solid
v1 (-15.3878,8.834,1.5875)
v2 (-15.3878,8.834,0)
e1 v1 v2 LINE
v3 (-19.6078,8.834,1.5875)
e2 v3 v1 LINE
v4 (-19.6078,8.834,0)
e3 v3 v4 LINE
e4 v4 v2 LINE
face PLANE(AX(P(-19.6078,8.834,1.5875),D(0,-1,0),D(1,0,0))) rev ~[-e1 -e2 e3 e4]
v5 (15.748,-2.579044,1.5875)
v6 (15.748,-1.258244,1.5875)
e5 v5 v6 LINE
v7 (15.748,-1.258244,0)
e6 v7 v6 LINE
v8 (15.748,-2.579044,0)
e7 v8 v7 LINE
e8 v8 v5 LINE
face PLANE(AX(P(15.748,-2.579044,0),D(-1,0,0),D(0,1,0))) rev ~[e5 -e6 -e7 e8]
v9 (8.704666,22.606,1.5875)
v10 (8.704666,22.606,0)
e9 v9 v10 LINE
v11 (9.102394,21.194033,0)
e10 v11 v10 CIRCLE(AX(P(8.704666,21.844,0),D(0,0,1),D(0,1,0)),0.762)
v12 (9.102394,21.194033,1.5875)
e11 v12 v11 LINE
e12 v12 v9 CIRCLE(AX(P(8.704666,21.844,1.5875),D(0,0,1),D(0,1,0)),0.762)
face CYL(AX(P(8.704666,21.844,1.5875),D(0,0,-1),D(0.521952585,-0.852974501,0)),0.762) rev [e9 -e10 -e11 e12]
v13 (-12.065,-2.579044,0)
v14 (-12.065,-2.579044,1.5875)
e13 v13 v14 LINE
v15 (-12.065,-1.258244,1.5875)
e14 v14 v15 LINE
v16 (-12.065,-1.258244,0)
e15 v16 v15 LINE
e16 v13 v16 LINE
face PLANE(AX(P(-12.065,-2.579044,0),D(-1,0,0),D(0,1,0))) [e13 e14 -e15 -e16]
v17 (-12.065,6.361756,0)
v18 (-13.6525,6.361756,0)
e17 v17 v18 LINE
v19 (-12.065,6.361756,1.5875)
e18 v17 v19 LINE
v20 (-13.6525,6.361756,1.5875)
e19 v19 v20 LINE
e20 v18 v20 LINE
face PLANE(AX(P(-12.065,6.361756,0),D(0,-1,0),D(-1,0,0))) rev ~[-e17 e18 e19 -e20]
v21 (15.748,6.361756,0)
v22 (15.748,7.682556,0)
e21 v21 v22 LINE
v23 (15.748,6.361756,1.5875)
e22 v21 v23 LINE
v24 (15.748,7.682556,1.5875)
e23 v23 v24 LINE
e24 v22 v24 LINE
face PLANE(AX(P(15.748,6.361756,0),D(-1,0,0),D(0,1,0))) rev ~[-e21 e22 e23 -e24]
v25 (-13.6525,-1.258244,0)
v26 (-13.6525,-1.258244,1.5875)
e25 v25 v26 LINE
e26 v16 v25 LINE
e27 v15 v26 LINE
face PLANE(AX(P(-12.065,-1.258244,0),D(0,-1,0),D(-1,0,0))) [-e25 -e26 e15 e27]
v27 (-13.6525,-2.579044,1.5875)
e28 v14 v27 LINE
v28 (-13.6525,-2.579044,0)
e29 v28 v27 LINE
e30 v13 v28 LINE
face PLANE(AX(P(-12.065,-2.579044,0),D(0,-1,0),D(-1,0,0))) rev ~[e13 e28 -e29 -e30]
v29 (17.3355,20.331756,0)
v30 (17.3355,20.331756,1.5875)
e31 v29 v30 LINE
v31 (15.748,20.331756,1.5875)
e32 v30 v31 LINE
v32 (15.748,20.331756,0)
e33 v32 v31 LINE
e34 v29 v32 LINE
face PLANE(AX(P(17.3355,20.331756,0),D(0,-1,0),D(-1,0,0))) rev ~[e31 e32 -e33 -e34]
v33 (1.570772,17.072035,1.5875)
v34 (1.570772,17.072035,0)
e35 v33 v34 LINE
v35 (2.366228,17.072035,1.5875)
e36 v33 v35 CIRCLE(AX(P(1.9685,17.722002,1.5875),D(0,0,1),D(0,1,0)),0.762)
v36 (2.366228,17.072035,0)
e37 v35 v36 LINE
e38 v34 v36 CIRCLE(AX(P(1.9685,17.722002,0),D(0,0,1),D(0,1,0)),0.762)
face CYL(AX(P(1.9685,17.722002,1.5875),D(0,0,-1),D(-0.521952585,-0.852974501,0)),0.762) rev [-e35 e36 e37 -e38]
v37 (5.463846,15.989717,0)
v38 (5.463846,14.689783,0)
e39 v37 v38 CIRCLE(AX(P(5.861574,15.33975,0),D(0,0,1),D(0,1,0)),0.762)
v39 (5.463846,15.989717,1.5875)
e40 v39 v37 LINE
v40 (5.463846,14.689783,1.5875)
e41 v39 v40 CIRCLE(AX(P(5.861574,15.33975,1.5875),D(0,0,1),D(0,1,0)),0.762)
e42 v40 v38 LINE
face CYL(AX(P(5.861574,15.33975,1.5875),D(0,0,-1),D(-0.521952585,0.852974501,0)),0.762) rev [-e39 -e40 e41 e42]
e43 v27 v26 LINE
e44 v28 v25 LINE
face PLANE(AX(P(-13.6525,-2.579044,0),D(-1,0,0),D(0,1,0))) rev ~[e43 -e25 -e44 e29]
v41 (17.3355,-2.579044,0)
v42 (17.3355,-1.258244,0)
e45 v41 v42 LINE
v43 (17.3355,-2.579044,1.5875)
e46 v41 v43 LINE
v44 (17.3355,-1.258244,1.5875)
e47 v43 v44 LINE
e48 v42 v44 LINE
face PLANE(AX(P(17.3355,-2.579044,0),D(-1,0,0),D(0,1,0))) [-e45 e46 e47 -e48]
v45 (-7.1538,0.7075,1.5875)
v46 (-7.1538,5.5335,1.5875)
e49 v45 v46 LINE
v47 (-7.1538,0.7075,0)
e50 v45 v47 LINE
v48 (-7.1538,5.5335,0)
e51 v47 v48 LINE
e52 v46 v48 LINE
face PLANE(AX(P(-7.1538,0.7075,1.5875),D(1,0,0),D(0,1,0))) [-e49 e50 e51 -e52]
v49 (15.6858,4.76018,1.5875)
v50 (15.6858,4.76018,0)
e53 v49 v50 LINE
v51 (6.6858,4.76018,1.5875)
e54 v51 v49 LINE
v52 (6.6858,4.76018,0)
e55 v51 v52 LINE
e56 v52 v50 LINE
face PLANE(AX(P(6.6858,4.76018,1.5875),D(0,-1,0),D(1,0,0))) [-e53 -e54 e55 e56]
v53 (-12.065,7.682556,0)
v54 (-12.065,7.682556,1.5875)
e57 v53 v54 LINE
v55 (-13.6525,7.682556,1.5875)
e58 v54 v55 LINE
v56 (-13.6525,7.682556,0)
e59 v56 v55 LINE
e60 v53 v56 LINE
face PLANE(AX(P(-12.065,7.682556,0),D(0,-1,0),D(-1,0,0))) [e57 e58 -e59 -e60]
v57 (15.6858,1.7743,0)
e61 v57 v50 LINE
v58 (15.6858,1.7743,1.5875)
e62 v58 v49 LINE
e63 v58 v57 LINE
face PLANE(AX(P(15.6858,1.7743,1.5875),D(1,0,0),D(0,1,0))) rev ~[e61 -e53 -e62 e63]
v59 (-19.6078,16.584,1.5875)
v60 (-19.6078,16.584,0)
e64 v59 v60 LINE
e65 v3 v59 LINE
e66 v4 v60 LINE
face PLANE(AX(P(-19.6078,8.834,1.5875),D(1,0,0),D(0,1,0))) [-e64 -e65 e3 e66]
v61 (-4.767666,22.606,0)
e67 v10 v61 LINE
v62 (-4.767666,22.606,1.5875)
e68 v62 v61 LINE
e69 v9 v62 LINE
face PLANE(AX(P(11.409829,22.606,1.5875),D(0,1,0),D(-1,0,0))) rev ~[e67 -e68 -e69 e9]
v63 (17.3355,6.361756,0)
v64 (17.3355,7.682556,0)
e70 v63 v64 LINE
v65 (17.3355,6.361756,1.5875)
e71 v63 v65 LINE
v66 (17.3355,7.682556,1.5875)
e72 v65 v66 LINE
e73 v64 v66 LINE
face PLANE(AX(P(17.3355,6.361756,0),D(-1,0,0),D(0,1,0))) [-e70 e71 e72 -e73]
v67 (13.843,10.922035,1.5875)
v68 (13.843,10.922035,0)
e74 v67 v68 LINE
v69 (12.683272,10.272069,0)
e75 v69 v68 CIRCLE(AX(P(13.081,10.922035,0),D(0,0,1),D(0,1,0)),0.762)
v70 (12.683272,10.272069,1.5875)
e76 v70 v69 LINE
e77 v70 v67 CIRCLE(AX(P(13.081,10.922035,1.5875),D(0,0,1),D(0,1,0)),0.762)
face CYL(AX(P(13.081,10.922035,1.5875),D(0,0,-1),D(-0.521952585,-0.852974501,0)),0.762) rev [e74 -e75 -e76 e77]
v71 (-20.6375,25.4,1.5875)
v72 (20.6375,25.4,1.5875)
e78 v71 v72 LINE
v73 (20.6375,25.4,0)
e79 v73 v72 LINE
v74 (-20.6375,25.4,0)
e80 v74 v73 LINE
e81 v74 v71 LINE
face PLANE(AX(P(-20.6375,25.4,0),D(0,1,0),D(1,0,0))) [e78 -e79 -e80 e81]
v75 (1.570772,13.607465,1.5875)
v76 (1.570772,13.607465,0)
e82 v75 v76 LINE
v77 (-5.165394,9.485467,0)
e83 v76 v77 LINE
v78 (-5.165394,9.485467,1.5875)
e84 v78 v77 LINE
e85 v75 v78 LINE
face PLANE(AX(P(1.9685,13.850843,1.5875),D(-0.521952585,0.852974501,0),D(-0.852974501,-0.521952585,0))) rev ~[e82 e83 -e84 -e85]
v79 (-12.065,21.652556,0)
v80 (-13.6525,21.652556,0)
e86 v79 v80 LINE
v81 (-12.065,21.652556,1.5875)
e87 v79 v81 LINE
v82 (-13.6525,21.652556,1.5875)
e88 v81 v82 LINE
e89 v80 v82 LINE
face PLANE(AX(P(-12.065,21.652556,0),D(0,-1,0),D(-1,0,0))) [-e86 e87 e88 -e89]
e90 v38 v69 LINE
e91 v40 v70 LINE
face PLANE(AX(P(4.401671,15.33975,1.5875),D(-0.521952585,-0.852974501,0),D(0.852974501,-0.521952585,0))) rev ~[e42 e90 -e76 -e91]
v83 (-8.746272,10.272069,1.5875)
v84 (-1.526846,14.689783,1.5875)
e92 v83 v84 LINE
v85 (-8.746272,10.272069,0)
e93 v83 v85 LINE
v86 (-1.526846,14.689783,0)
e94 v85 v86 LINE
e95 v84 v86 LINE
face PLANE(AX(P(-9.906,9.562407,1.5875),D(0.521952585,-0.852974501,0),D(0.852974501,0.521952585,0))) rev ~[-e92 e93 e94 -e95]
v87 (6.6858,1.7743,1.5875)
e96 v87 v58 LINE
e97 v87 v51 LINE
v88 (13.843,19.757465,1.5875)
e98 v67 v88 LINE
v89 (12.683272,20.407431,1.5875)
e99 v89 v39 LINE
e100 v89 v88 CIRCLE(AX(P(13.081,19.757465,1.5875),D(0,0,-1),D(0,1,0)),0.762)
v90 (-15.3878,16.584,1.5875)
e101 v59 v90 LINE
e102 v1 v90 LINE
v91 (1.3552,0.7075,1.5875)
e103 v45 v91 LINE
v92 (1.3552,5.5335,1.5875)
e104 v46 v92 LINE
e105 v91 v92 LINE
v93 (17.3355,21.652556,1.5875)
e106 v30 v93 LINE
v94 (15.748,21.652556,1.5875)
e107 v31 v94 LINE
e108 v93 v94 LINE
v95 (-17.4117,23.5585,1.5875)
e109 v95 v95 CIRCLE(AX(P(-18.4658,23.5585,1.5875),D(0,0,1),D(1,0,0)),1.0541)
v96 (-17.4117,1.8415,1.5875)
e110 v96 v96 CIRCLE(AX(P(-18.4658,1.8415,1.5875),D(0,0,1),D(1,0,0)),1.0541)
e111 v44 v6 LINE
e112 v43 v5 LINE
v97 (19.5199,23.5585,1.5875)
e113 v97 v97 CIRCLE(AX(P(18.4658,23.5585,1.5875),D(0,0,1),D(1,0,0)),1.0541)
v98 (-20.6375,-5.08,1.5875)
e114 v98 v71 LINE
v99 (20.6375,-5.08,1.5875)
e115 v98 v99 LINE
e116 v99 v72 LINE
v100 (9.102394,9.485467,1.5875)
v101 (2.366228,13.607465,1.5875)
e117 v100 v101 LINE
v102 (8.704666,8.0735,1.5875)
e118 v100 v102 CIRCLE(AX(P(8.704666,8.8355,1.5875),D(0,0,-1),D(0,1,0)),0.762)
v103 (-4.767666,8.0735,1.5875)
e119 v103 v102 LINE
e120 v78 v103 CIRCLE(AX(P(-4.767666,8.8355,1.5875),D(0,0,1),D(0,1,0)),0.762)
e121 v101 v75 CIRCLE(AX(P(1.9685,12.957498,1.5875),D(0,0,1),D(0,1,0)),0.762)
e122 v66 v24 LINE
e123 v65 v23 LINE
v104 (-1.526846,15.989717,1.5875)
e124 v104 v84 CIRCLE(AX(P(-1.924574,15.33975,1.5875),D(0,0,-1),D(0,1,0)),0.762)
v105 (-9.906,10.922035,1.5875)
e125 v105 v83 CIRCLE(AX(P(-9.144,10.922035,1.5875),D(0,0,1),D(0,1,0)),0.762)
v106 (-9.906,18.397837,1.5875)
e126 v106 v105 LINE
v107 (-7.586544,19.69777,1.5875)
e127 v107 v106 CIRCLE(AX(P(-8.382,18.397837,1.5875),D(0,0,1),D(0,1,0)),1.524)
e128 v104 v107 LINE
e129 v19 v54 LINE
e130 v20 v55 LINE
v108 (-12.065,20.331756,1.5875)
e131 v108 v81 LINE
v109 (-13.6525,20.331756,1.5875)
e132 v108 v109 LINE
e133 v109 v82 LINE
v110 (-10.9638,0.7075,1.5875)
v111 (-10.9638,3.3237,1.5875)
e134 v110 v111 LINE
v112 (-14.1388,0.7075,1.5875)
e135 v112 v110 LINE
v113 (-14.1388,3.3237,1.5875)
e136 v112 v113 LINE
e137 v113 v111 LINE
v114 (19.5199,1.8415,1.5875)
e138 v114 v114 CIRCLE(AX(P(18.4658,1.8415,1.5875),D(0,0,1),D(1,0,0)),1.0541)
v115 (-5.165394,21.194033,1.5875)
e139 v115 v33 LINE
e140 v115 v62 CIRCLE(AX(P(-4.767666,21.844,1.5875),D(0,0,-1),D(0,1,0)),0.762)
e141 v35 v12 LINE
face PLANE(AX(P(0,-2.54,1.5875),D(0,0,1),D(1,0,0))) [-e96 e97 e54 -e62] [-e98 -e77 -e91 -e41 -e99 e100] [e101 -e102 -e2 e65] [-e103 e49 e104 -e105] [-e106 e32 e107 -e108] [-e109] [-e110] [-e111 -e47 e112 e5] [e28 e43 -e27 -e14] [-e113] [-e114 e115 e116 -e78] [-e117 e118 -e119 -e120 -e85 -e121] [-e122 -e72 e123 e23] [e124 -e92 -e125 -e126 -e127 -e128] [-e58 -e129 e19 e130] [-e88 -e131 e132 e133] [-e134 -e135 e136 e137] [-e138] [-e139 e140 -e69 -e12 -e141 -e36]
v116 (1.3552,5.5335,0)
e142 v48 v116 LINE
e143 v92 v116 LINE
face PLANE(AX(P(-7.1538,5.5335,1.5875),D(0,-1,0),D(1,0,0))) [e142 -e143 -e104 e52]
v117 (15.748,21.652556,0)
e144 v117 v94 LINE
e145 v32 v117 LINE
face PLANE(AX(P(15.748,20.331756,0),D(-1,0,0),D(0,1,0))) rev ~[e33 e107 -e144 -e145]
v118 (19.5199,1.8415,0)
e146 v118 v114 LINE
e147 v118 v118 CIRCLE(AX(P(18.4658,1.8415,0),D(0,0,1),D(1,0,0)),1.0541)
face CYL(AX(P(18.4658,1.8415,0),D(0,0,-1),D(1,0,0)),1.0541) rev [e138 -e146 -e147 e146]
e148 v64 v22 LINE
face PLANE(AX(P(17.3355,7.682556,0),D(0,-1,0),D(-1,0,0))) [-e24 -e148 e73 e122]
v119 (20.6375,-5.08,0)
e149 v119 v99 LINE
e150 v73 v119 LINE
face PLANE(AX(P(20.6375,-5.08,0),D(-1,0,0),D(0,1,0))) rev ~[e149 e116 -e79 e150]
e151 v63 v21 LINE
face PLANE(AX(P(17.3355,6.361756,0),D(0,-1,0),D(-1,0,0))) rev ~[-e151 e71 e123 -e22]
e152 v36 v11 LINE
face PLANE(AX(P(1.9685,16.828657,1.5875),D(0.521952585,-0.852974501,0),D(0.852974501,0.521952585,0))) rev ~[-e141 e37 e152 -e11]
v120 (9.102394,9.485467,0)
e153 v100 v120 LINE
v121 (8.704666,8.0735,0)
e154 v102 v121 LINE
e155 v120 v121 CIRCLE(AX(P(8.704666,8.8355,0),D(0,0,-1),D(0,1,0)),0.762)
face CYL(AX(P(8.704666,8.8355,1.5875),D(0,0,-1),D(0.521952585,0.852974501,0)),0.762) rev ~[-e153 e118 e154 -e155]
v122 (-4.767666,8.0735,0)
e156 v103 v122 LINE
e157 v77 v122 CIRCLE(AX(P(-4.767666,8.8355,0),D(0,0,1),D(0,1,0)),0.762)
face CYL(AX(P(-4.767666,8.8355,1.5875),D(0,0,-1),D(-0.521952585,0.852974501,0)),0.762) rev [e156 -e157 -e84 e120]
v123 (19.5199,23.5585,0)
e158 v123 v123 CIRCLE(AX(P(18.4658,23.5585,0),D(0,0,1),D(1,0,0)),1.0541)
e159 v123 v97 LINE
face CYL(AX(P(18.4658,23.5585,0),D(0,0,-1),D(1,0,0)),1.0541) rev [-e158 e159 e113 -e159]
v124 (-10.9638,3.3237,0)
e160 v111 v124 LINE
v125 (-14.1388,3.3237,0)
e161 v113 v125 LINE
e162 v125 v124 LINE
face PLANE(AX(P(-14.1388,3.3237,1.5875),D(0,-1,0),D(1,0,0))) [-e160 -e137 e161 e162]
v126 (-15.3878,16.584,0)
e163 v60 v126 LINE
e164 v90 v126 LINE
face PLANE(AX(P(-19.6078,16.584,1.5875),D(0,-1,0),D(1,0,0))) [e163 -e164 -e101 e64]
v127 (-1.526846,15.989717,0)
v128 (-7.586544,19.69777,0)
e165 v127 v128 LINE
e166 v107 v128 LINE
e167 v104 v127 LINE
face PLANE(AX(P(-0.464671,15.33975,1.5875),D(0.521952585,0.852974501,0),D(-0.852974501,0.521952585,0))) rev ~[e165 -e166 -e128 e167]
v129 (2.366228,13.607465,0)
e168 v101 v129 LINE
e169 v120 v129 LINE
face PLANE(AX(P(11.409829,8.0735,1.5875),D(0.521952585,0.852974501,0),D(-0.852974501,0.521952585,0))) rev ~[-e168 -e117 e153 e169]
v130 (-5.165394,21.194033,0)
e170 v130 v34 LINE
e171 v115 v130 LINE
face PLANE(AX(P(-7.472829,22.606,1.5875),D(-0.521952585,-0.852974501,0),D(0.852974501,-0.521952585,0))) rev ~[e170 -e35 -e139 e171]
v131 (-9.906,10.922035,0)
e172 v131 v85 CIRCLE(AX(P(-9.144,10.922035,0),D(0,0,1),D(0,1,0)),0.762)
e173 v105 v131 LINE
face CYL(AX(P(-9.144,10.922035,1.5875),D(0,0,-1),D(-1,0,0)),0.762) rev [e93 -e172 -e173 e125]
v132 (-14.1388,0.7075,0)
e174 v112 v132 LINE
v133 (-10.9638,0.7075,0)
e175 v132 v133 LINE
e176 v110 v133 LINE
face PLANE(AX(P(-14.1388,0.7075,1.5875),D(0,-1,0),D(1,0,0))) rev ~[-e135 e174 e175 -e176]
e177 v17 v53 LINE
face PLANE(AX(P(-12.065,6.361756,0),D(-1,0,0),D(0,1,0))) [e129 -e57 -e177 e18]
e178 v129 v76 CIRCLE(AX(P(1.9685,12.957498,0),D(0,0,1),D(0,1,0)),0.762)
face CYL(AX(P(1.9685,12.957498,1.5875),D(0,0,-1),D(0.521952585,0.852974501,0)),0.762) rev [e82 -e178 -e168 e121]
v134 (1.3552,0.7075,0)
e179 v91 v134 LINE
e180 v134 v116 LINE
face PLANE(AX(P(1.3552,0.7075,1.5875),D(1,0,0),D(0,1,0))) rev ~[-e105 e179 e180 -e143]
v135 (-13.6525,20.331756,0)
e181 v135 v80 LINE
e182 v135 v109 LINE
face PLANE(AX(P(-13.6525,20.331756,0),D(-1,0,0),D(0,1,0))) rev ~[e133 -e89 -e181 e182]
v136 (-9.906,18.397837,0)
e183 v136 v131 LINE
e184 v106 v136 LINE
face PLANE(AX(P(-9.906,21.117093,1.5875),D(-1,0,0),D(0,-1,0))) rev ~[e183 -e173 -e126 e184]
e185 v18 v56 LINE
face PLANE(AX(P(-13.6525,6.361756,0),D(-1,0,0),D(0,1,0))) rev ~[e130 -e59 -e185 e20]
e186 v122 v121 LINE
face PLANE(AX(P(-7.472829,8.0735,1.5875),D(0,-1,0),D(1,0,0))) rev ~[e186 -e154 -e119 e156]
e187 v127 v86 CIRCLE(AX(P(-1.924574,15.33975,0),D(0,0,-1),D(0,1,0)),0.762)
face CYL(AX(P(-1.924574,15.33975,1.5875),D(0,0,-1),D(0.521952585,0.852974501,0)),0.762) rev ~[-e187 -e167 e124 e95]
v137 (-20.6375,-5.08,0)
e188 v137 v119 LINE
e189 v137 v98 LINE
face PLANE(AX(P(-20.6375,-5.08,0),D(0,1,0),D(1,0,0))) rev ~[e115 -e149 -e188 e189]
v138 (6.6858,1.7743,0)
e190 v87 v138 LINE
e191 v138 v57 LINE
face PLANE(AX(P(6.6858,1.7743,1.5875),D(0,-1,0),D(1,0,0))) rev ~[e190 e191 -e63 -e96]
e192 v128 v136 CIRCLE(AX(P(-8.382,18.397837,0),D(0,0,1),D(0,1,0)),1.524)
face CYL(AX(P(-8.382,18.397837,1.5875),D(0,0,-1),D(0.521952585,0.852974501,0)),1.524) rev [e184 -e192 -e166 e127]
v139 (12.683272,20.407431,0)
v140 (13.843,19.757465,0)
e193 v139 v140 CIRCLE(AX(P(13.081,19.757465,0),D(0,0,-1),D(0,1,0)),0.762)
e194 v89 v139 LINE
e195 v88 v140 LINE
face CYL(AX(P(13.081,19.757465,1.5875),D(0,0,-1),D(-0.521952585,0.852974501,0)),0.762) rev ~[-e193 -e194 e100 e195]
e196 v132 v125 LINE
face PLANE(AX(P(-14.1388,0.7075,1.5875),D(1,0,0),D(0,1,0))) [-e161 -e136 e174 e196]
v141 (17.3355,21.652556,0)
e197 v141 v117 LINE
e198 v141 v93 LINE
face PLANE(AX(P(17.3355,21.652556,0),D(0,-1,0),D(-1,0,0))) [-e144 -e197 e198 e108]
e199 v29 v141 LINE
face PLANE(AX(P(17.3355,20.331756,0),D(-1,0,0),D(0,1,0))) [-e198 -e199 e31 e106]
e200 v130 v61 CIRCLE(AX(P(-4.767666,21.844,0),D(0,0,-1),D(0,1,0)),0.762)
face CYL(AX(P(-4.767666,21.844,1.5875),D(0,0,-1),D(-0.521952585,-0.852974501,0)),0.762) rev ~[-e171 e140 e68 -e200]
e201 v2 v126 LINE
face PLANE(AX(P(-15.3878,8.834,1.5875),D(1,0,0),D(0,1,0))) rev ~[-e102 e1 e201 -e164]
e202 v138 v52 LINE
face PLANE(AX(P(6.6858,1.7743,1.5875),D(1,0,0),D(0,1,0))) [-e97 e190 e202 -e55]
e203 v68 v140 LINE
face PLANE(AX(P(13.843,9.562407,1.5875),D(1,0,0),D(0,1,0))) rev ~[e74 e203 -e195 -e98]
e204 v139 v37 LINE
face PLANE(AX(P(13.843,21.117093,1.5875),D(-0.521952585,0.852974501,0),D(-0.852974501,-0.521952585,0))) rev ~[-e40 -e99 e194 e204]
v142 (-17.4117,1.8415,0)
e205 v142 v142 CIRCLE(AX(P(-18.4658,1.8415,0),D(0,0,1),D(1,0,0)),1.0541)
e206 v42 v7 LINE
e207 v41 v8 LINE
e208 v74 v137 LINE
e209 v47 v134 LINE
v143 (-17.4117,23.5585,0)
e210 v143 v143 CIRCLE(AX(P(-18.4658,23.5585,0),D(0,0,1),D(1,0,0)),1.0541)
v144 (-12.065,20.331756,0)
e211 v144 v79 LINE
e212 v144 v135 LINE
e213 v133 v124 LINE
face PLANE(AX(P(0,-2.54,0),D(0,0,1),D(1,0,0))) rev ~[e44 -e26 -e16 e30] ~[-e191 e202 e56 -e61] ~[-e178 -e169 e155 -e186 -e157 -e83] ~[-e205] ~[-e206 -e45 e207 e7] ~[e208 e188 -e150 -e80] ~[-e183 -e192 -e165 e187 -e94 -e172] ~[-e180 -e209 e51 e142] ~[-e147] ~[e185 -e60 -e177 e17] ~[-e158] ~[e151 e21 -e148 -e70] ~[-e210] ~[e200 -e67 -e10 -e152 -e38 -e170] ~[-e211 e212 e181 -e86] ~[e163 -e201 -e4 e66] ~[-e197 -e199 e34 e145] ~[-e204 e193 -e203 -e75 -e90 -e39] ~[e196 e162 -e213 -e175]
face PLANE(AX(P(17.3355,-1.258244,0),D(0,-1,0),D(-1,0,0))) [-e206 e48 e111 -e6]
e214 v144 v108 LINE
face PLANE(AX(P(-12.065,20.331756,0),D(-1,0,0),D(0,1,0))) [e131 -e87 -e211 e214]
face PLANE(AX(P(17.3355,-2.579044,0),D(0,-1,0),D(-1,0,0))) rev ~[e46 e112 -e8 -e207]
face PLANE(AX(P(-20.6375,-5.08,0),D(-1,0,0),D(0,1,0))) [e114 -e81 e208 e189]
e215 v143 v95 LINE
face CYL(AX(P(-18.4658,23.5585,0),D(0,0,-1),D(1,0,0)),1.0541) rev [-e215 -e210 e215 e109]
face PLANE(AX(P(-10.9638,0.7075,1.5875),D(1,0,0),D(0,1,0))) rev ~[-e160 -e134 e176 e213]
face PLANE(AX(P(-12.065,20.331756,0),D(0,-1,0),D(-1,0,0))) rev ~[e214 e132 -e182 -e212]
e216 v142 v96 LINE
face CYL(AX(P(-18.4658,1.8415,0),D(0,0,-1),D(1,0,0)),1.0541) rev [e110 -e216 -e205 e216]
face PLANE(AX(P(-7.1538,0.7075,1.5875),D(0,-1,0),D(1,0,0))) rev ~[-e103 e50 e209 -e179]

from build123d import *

# Parameters (mm, degrees)
SKETCH1_W              = 41.275
SKETCH1_H              = 25.4
SKETCH1_R              = 1.0541
SKETCH1_H_2            = 5.08
BOSS_EXTRUDE1_DEPTH    = 1.5875
ATTACHMENT_HOLES_REACH = 34.766
SKETCH3_W              = 1.5875
SKETCH3_H              = 1.3208
SKETCH2_W              = 8.509
SKETCH2_H              = 4.826
SKETCH2_W_2            = 4.22
SKETCH2_H_2            = 7.75
SKETCH2_W_3            = 3.175
SKETCH2_H_3            = 2.6162
SKETCH2_W_4            = 9
SKETCH2_H_4            = 2.985879982
CUT_EXTRUDE1_DEPTH     = 1.5875
FILLET8_R              = 0.762
FILLET9_R              = 1.524


with BuildPart() as part:
    # Sketch1 → Boss-Extrude1 (new body)
    # profile 1 of 2: a face of its own
    with BuildSketch(Plane.XY):
        with Locations((0, 12.7)):
            Rectangle(SKETCH1_W, SKETCH1_H)
        with Locations((-18.4658, 1.8415)):
            Circle(SKETCH1_R, mode=Mode.SUBTRACT)
        with Locations((18.4658, 1.8415)):
            Circle(SKETCH1_R, mode=Mode.SUBTRACT)
        with Locations((-18.4658, 23.5585)):
            Circle(SKETCH1_R, mode=Mode.SUBTRACT)
        with Locations((18.4658, 23.5585)):
            Circle(SKETCH1_R, mode=Mode.SUBTRACT)
    # profile 2 of 2: a face of its own
    with BuildSketch(Plane.XY):
        with Locations((0, -2.54)):
            Rectangle(SKETCH1_W, SKETCH1_H_2)
    extrude(amount=BOSS_EXTRUDE1_DEPTH)

    # Sketch3 → Attachment Holes (cut, up to next)
    with BuildSketch(Plane(origin=(0, 0, 0), x_dir=(-1, 0, 0), z_dir=(0, 0, -1)), mode=Mode.PRIVATE) as attachment_holes_sk1:
        with Locations((-16.54175, 20.992155968)):
            Rectangle(SKETCH3_W, SKETCH3_H)
    attachment_holes_tool1 = extrude(attachment_holes_sk1.sketch, amount=-ATTACHMENT_HOLES_REACH, mode=Mode.PRIVATE) & part.part
    # Sketch3 → Attachment Holes (cut, up to next)
    with BuildSketch(Plane(origin=(0, 0, 0), x_dir=(-1, 0, 0), z_dir=(0, 0, -1)), mode=Mode.PRIVATE) as attachment_holes_sk2:
        with Locations((-16.54175, 7.022155968)):
            Rectangle(SKETCH3_W, SKETCH3_H)
    attachment_holes_tool2 = extrude(attachment_holes_sk2.sketch, amount=-ATTACHMENT_HOLES_REACH, mode=Mode.PRIVATE) & part.part
    # Sketch3 → Attachment Holes (cut, up to next)
    with BuildSketch(Plane(origin=(0, 0, 0), x_dir=(-1, 0, 0), z_dir=(0, 0, -1)), mode=Mode.PRIVATE) as attachment_holes_sk3:
        with Locations((-16.54175, -1.918644032)):
            Rectangle(SKETCH3_W, SKETCH3_H)
    attachment_holes_tool3 = extrude(attachment_holes_sk3.sketch, amount=-ATTACHMENT_HOLES_REACH, mode=Mode.PRIVATE) & part.part
    # Sketch3 → Attachment Holes (cut, up to next)
    with BuildSketch(Plane(origin=(0, 0, 0), x_dir=(-1, 0, 0), z_dir=(0, 0, -1)), mode=Mode.PRIVATE) as attachment_holes_sk4:
        with Locations((12.85875, 20.992155968)):
            Rectangle(SKETCH3_W, SKETCH3_H)
    attachment_holes_tool4 = extrude(attachment_holes_sk4.sketch, amount=-ATTACHMENT_HOLES_REACH, mode=Mode.PRIVATE) & part.part
    # Sketch3 → Attachment Holes (cut, up to next)
    with BuildSketch(Plane(origin=(0, 0, 0), x_dir=(-1, 0, 0), z_dir=(0, 0, -1)), mode=Mode.PRIVATE) as attachment_holes_sk5:
        with Locations((12.85875, 7.022155968)):
            Rectangle(SKETCH3_W, SKETCH3_H)
    attachment_holes_tool5 = extrude(attachment_holes_sk5.sketch, amount=-ATTACHMENT_HOLES_REACH, mode=Mode.PRIVATE) & part.part
    # Sketch3 → Attachment Holes (cut, up to next)
    with BuildSketch(Plane(origin=(0, 0, 0), x_dir=(-1, 0, 0), z_dir=(0, 0, -1)), mode=Mode.PRIVATE) as attachment_holes_sk6:
        with Locations((12.85875, -1.918644032)):
            Rectangle(SKETCH3_W, SKETCH3_H)
    attachment_holes_tool6 = extrude(attachment_holes_sk6.sketch, amount=-ATTACHMENT_HOLES_REACH, mode=Mode.PRIVATE) & part.part
    add(attachment_holes_tool1.solids().sort_by_distance((16.54175, 20.992156, 0))[0], mode=Mode.SUBTRACT)
    add(attachment_holes_tool2.solids().sort_by_distance((16.54175, 7.022156, 0))[0], mode=Mode.SUBTRACT)
    add(attachment_holes_tool3.solids().sort_by_distance((16.54175, -1.918644, 0))[0], mode=Mode.SUBTRACT)
    add(attachment_holes_tool4.solids().sort_by_distance((-12.85875, 20.992156, 0))[0], mode=Mode.SUBTRACT)
    add(attachment_holes_tool5.solids().sort_by_distance((-12.85875, 7.022156, 0))[0], mode=Mode.SUBTRACT)
    add(attachment_holes_tool6.solids().sort_by_distance((-12.85875, -1.918644, 0))[0], mode=Mode.SUBTRACT)

    # Sketch2 → Cut-Extrude1 (cut)
    with BuildSketch(Plane.XY.offset(1.5875)):
        Polygon((11.409828794, 8.0735), (1.9685, 13.850842654), (-7.472828794, 8.0735), align=None)
        Polygon((13.843, 21.117092654), (4.401671206, 15.33975), (13.843, 9.562407346), align=None)
        Polygon((-7.472828794, 22.606), (1.9685, 16.828657346), (11.409828794, 22.606), align=None)
        Polygon((-0.464671206, 15.33975), (-9.906, 21.117092654), (-9.906, 9.562407346), align=None)
        with Locations((-2.8993, 3.1205)):
            Rectangle(SKETCH2_W, SKETCH2_H)
        with Locations((-17.4978, 12.709)):
            Rectangle(SKETCH2_W_2, SKETCH2_H_2)
        with Locations((-12.5513, 2.0156)):
            Rectangle(SKETCH2_W_3, SKETCH2_H_3)
        with Locations((11.1858, 3.267239991)):
            Rectangle(SKETCH2_W_4, SKETCH2_H_4)
    extrude(amount=-CUT_EXTRUDE1_DEPTH, mode=Mode.SUBTRACT)

    # Fillet8
    fillet8_edges = [part.edges().sort_by_distance(p)[0] for p in [
        (-7.472828794, 8.0735, 0.79375),
        (1.9685, 13.850842654, 0.79375),
        (11.409828794, 8.0735, 0.79375),
        (4.401671206, 15.33975, 0.79375),
        (13.843, 21.117092654, 0.79375),
        (13.843, 9.562407346, 0.79375),
        (1.9685, 16.828657346, 0.79375),
        (-7.472828794, 22.606, 0.79375),
        (11.409828794, 22.606, 0.79375),
        (-9.906, 9.562407346, 0.79375),
        (-0.464671206, 15.33975, 0.79375),
    ]]
    fillet(fillet8_edges, radius=FILLET8_R)

    # Fillet9
    fillet9_edges = [part.edges().sort_by_distance(p)[0] for p in [
        (-9.906, 21.117092654, 0.79375),
    ]]
    fillet(fillet9_edges, radius=FILLET9_R)


solid = part.part
